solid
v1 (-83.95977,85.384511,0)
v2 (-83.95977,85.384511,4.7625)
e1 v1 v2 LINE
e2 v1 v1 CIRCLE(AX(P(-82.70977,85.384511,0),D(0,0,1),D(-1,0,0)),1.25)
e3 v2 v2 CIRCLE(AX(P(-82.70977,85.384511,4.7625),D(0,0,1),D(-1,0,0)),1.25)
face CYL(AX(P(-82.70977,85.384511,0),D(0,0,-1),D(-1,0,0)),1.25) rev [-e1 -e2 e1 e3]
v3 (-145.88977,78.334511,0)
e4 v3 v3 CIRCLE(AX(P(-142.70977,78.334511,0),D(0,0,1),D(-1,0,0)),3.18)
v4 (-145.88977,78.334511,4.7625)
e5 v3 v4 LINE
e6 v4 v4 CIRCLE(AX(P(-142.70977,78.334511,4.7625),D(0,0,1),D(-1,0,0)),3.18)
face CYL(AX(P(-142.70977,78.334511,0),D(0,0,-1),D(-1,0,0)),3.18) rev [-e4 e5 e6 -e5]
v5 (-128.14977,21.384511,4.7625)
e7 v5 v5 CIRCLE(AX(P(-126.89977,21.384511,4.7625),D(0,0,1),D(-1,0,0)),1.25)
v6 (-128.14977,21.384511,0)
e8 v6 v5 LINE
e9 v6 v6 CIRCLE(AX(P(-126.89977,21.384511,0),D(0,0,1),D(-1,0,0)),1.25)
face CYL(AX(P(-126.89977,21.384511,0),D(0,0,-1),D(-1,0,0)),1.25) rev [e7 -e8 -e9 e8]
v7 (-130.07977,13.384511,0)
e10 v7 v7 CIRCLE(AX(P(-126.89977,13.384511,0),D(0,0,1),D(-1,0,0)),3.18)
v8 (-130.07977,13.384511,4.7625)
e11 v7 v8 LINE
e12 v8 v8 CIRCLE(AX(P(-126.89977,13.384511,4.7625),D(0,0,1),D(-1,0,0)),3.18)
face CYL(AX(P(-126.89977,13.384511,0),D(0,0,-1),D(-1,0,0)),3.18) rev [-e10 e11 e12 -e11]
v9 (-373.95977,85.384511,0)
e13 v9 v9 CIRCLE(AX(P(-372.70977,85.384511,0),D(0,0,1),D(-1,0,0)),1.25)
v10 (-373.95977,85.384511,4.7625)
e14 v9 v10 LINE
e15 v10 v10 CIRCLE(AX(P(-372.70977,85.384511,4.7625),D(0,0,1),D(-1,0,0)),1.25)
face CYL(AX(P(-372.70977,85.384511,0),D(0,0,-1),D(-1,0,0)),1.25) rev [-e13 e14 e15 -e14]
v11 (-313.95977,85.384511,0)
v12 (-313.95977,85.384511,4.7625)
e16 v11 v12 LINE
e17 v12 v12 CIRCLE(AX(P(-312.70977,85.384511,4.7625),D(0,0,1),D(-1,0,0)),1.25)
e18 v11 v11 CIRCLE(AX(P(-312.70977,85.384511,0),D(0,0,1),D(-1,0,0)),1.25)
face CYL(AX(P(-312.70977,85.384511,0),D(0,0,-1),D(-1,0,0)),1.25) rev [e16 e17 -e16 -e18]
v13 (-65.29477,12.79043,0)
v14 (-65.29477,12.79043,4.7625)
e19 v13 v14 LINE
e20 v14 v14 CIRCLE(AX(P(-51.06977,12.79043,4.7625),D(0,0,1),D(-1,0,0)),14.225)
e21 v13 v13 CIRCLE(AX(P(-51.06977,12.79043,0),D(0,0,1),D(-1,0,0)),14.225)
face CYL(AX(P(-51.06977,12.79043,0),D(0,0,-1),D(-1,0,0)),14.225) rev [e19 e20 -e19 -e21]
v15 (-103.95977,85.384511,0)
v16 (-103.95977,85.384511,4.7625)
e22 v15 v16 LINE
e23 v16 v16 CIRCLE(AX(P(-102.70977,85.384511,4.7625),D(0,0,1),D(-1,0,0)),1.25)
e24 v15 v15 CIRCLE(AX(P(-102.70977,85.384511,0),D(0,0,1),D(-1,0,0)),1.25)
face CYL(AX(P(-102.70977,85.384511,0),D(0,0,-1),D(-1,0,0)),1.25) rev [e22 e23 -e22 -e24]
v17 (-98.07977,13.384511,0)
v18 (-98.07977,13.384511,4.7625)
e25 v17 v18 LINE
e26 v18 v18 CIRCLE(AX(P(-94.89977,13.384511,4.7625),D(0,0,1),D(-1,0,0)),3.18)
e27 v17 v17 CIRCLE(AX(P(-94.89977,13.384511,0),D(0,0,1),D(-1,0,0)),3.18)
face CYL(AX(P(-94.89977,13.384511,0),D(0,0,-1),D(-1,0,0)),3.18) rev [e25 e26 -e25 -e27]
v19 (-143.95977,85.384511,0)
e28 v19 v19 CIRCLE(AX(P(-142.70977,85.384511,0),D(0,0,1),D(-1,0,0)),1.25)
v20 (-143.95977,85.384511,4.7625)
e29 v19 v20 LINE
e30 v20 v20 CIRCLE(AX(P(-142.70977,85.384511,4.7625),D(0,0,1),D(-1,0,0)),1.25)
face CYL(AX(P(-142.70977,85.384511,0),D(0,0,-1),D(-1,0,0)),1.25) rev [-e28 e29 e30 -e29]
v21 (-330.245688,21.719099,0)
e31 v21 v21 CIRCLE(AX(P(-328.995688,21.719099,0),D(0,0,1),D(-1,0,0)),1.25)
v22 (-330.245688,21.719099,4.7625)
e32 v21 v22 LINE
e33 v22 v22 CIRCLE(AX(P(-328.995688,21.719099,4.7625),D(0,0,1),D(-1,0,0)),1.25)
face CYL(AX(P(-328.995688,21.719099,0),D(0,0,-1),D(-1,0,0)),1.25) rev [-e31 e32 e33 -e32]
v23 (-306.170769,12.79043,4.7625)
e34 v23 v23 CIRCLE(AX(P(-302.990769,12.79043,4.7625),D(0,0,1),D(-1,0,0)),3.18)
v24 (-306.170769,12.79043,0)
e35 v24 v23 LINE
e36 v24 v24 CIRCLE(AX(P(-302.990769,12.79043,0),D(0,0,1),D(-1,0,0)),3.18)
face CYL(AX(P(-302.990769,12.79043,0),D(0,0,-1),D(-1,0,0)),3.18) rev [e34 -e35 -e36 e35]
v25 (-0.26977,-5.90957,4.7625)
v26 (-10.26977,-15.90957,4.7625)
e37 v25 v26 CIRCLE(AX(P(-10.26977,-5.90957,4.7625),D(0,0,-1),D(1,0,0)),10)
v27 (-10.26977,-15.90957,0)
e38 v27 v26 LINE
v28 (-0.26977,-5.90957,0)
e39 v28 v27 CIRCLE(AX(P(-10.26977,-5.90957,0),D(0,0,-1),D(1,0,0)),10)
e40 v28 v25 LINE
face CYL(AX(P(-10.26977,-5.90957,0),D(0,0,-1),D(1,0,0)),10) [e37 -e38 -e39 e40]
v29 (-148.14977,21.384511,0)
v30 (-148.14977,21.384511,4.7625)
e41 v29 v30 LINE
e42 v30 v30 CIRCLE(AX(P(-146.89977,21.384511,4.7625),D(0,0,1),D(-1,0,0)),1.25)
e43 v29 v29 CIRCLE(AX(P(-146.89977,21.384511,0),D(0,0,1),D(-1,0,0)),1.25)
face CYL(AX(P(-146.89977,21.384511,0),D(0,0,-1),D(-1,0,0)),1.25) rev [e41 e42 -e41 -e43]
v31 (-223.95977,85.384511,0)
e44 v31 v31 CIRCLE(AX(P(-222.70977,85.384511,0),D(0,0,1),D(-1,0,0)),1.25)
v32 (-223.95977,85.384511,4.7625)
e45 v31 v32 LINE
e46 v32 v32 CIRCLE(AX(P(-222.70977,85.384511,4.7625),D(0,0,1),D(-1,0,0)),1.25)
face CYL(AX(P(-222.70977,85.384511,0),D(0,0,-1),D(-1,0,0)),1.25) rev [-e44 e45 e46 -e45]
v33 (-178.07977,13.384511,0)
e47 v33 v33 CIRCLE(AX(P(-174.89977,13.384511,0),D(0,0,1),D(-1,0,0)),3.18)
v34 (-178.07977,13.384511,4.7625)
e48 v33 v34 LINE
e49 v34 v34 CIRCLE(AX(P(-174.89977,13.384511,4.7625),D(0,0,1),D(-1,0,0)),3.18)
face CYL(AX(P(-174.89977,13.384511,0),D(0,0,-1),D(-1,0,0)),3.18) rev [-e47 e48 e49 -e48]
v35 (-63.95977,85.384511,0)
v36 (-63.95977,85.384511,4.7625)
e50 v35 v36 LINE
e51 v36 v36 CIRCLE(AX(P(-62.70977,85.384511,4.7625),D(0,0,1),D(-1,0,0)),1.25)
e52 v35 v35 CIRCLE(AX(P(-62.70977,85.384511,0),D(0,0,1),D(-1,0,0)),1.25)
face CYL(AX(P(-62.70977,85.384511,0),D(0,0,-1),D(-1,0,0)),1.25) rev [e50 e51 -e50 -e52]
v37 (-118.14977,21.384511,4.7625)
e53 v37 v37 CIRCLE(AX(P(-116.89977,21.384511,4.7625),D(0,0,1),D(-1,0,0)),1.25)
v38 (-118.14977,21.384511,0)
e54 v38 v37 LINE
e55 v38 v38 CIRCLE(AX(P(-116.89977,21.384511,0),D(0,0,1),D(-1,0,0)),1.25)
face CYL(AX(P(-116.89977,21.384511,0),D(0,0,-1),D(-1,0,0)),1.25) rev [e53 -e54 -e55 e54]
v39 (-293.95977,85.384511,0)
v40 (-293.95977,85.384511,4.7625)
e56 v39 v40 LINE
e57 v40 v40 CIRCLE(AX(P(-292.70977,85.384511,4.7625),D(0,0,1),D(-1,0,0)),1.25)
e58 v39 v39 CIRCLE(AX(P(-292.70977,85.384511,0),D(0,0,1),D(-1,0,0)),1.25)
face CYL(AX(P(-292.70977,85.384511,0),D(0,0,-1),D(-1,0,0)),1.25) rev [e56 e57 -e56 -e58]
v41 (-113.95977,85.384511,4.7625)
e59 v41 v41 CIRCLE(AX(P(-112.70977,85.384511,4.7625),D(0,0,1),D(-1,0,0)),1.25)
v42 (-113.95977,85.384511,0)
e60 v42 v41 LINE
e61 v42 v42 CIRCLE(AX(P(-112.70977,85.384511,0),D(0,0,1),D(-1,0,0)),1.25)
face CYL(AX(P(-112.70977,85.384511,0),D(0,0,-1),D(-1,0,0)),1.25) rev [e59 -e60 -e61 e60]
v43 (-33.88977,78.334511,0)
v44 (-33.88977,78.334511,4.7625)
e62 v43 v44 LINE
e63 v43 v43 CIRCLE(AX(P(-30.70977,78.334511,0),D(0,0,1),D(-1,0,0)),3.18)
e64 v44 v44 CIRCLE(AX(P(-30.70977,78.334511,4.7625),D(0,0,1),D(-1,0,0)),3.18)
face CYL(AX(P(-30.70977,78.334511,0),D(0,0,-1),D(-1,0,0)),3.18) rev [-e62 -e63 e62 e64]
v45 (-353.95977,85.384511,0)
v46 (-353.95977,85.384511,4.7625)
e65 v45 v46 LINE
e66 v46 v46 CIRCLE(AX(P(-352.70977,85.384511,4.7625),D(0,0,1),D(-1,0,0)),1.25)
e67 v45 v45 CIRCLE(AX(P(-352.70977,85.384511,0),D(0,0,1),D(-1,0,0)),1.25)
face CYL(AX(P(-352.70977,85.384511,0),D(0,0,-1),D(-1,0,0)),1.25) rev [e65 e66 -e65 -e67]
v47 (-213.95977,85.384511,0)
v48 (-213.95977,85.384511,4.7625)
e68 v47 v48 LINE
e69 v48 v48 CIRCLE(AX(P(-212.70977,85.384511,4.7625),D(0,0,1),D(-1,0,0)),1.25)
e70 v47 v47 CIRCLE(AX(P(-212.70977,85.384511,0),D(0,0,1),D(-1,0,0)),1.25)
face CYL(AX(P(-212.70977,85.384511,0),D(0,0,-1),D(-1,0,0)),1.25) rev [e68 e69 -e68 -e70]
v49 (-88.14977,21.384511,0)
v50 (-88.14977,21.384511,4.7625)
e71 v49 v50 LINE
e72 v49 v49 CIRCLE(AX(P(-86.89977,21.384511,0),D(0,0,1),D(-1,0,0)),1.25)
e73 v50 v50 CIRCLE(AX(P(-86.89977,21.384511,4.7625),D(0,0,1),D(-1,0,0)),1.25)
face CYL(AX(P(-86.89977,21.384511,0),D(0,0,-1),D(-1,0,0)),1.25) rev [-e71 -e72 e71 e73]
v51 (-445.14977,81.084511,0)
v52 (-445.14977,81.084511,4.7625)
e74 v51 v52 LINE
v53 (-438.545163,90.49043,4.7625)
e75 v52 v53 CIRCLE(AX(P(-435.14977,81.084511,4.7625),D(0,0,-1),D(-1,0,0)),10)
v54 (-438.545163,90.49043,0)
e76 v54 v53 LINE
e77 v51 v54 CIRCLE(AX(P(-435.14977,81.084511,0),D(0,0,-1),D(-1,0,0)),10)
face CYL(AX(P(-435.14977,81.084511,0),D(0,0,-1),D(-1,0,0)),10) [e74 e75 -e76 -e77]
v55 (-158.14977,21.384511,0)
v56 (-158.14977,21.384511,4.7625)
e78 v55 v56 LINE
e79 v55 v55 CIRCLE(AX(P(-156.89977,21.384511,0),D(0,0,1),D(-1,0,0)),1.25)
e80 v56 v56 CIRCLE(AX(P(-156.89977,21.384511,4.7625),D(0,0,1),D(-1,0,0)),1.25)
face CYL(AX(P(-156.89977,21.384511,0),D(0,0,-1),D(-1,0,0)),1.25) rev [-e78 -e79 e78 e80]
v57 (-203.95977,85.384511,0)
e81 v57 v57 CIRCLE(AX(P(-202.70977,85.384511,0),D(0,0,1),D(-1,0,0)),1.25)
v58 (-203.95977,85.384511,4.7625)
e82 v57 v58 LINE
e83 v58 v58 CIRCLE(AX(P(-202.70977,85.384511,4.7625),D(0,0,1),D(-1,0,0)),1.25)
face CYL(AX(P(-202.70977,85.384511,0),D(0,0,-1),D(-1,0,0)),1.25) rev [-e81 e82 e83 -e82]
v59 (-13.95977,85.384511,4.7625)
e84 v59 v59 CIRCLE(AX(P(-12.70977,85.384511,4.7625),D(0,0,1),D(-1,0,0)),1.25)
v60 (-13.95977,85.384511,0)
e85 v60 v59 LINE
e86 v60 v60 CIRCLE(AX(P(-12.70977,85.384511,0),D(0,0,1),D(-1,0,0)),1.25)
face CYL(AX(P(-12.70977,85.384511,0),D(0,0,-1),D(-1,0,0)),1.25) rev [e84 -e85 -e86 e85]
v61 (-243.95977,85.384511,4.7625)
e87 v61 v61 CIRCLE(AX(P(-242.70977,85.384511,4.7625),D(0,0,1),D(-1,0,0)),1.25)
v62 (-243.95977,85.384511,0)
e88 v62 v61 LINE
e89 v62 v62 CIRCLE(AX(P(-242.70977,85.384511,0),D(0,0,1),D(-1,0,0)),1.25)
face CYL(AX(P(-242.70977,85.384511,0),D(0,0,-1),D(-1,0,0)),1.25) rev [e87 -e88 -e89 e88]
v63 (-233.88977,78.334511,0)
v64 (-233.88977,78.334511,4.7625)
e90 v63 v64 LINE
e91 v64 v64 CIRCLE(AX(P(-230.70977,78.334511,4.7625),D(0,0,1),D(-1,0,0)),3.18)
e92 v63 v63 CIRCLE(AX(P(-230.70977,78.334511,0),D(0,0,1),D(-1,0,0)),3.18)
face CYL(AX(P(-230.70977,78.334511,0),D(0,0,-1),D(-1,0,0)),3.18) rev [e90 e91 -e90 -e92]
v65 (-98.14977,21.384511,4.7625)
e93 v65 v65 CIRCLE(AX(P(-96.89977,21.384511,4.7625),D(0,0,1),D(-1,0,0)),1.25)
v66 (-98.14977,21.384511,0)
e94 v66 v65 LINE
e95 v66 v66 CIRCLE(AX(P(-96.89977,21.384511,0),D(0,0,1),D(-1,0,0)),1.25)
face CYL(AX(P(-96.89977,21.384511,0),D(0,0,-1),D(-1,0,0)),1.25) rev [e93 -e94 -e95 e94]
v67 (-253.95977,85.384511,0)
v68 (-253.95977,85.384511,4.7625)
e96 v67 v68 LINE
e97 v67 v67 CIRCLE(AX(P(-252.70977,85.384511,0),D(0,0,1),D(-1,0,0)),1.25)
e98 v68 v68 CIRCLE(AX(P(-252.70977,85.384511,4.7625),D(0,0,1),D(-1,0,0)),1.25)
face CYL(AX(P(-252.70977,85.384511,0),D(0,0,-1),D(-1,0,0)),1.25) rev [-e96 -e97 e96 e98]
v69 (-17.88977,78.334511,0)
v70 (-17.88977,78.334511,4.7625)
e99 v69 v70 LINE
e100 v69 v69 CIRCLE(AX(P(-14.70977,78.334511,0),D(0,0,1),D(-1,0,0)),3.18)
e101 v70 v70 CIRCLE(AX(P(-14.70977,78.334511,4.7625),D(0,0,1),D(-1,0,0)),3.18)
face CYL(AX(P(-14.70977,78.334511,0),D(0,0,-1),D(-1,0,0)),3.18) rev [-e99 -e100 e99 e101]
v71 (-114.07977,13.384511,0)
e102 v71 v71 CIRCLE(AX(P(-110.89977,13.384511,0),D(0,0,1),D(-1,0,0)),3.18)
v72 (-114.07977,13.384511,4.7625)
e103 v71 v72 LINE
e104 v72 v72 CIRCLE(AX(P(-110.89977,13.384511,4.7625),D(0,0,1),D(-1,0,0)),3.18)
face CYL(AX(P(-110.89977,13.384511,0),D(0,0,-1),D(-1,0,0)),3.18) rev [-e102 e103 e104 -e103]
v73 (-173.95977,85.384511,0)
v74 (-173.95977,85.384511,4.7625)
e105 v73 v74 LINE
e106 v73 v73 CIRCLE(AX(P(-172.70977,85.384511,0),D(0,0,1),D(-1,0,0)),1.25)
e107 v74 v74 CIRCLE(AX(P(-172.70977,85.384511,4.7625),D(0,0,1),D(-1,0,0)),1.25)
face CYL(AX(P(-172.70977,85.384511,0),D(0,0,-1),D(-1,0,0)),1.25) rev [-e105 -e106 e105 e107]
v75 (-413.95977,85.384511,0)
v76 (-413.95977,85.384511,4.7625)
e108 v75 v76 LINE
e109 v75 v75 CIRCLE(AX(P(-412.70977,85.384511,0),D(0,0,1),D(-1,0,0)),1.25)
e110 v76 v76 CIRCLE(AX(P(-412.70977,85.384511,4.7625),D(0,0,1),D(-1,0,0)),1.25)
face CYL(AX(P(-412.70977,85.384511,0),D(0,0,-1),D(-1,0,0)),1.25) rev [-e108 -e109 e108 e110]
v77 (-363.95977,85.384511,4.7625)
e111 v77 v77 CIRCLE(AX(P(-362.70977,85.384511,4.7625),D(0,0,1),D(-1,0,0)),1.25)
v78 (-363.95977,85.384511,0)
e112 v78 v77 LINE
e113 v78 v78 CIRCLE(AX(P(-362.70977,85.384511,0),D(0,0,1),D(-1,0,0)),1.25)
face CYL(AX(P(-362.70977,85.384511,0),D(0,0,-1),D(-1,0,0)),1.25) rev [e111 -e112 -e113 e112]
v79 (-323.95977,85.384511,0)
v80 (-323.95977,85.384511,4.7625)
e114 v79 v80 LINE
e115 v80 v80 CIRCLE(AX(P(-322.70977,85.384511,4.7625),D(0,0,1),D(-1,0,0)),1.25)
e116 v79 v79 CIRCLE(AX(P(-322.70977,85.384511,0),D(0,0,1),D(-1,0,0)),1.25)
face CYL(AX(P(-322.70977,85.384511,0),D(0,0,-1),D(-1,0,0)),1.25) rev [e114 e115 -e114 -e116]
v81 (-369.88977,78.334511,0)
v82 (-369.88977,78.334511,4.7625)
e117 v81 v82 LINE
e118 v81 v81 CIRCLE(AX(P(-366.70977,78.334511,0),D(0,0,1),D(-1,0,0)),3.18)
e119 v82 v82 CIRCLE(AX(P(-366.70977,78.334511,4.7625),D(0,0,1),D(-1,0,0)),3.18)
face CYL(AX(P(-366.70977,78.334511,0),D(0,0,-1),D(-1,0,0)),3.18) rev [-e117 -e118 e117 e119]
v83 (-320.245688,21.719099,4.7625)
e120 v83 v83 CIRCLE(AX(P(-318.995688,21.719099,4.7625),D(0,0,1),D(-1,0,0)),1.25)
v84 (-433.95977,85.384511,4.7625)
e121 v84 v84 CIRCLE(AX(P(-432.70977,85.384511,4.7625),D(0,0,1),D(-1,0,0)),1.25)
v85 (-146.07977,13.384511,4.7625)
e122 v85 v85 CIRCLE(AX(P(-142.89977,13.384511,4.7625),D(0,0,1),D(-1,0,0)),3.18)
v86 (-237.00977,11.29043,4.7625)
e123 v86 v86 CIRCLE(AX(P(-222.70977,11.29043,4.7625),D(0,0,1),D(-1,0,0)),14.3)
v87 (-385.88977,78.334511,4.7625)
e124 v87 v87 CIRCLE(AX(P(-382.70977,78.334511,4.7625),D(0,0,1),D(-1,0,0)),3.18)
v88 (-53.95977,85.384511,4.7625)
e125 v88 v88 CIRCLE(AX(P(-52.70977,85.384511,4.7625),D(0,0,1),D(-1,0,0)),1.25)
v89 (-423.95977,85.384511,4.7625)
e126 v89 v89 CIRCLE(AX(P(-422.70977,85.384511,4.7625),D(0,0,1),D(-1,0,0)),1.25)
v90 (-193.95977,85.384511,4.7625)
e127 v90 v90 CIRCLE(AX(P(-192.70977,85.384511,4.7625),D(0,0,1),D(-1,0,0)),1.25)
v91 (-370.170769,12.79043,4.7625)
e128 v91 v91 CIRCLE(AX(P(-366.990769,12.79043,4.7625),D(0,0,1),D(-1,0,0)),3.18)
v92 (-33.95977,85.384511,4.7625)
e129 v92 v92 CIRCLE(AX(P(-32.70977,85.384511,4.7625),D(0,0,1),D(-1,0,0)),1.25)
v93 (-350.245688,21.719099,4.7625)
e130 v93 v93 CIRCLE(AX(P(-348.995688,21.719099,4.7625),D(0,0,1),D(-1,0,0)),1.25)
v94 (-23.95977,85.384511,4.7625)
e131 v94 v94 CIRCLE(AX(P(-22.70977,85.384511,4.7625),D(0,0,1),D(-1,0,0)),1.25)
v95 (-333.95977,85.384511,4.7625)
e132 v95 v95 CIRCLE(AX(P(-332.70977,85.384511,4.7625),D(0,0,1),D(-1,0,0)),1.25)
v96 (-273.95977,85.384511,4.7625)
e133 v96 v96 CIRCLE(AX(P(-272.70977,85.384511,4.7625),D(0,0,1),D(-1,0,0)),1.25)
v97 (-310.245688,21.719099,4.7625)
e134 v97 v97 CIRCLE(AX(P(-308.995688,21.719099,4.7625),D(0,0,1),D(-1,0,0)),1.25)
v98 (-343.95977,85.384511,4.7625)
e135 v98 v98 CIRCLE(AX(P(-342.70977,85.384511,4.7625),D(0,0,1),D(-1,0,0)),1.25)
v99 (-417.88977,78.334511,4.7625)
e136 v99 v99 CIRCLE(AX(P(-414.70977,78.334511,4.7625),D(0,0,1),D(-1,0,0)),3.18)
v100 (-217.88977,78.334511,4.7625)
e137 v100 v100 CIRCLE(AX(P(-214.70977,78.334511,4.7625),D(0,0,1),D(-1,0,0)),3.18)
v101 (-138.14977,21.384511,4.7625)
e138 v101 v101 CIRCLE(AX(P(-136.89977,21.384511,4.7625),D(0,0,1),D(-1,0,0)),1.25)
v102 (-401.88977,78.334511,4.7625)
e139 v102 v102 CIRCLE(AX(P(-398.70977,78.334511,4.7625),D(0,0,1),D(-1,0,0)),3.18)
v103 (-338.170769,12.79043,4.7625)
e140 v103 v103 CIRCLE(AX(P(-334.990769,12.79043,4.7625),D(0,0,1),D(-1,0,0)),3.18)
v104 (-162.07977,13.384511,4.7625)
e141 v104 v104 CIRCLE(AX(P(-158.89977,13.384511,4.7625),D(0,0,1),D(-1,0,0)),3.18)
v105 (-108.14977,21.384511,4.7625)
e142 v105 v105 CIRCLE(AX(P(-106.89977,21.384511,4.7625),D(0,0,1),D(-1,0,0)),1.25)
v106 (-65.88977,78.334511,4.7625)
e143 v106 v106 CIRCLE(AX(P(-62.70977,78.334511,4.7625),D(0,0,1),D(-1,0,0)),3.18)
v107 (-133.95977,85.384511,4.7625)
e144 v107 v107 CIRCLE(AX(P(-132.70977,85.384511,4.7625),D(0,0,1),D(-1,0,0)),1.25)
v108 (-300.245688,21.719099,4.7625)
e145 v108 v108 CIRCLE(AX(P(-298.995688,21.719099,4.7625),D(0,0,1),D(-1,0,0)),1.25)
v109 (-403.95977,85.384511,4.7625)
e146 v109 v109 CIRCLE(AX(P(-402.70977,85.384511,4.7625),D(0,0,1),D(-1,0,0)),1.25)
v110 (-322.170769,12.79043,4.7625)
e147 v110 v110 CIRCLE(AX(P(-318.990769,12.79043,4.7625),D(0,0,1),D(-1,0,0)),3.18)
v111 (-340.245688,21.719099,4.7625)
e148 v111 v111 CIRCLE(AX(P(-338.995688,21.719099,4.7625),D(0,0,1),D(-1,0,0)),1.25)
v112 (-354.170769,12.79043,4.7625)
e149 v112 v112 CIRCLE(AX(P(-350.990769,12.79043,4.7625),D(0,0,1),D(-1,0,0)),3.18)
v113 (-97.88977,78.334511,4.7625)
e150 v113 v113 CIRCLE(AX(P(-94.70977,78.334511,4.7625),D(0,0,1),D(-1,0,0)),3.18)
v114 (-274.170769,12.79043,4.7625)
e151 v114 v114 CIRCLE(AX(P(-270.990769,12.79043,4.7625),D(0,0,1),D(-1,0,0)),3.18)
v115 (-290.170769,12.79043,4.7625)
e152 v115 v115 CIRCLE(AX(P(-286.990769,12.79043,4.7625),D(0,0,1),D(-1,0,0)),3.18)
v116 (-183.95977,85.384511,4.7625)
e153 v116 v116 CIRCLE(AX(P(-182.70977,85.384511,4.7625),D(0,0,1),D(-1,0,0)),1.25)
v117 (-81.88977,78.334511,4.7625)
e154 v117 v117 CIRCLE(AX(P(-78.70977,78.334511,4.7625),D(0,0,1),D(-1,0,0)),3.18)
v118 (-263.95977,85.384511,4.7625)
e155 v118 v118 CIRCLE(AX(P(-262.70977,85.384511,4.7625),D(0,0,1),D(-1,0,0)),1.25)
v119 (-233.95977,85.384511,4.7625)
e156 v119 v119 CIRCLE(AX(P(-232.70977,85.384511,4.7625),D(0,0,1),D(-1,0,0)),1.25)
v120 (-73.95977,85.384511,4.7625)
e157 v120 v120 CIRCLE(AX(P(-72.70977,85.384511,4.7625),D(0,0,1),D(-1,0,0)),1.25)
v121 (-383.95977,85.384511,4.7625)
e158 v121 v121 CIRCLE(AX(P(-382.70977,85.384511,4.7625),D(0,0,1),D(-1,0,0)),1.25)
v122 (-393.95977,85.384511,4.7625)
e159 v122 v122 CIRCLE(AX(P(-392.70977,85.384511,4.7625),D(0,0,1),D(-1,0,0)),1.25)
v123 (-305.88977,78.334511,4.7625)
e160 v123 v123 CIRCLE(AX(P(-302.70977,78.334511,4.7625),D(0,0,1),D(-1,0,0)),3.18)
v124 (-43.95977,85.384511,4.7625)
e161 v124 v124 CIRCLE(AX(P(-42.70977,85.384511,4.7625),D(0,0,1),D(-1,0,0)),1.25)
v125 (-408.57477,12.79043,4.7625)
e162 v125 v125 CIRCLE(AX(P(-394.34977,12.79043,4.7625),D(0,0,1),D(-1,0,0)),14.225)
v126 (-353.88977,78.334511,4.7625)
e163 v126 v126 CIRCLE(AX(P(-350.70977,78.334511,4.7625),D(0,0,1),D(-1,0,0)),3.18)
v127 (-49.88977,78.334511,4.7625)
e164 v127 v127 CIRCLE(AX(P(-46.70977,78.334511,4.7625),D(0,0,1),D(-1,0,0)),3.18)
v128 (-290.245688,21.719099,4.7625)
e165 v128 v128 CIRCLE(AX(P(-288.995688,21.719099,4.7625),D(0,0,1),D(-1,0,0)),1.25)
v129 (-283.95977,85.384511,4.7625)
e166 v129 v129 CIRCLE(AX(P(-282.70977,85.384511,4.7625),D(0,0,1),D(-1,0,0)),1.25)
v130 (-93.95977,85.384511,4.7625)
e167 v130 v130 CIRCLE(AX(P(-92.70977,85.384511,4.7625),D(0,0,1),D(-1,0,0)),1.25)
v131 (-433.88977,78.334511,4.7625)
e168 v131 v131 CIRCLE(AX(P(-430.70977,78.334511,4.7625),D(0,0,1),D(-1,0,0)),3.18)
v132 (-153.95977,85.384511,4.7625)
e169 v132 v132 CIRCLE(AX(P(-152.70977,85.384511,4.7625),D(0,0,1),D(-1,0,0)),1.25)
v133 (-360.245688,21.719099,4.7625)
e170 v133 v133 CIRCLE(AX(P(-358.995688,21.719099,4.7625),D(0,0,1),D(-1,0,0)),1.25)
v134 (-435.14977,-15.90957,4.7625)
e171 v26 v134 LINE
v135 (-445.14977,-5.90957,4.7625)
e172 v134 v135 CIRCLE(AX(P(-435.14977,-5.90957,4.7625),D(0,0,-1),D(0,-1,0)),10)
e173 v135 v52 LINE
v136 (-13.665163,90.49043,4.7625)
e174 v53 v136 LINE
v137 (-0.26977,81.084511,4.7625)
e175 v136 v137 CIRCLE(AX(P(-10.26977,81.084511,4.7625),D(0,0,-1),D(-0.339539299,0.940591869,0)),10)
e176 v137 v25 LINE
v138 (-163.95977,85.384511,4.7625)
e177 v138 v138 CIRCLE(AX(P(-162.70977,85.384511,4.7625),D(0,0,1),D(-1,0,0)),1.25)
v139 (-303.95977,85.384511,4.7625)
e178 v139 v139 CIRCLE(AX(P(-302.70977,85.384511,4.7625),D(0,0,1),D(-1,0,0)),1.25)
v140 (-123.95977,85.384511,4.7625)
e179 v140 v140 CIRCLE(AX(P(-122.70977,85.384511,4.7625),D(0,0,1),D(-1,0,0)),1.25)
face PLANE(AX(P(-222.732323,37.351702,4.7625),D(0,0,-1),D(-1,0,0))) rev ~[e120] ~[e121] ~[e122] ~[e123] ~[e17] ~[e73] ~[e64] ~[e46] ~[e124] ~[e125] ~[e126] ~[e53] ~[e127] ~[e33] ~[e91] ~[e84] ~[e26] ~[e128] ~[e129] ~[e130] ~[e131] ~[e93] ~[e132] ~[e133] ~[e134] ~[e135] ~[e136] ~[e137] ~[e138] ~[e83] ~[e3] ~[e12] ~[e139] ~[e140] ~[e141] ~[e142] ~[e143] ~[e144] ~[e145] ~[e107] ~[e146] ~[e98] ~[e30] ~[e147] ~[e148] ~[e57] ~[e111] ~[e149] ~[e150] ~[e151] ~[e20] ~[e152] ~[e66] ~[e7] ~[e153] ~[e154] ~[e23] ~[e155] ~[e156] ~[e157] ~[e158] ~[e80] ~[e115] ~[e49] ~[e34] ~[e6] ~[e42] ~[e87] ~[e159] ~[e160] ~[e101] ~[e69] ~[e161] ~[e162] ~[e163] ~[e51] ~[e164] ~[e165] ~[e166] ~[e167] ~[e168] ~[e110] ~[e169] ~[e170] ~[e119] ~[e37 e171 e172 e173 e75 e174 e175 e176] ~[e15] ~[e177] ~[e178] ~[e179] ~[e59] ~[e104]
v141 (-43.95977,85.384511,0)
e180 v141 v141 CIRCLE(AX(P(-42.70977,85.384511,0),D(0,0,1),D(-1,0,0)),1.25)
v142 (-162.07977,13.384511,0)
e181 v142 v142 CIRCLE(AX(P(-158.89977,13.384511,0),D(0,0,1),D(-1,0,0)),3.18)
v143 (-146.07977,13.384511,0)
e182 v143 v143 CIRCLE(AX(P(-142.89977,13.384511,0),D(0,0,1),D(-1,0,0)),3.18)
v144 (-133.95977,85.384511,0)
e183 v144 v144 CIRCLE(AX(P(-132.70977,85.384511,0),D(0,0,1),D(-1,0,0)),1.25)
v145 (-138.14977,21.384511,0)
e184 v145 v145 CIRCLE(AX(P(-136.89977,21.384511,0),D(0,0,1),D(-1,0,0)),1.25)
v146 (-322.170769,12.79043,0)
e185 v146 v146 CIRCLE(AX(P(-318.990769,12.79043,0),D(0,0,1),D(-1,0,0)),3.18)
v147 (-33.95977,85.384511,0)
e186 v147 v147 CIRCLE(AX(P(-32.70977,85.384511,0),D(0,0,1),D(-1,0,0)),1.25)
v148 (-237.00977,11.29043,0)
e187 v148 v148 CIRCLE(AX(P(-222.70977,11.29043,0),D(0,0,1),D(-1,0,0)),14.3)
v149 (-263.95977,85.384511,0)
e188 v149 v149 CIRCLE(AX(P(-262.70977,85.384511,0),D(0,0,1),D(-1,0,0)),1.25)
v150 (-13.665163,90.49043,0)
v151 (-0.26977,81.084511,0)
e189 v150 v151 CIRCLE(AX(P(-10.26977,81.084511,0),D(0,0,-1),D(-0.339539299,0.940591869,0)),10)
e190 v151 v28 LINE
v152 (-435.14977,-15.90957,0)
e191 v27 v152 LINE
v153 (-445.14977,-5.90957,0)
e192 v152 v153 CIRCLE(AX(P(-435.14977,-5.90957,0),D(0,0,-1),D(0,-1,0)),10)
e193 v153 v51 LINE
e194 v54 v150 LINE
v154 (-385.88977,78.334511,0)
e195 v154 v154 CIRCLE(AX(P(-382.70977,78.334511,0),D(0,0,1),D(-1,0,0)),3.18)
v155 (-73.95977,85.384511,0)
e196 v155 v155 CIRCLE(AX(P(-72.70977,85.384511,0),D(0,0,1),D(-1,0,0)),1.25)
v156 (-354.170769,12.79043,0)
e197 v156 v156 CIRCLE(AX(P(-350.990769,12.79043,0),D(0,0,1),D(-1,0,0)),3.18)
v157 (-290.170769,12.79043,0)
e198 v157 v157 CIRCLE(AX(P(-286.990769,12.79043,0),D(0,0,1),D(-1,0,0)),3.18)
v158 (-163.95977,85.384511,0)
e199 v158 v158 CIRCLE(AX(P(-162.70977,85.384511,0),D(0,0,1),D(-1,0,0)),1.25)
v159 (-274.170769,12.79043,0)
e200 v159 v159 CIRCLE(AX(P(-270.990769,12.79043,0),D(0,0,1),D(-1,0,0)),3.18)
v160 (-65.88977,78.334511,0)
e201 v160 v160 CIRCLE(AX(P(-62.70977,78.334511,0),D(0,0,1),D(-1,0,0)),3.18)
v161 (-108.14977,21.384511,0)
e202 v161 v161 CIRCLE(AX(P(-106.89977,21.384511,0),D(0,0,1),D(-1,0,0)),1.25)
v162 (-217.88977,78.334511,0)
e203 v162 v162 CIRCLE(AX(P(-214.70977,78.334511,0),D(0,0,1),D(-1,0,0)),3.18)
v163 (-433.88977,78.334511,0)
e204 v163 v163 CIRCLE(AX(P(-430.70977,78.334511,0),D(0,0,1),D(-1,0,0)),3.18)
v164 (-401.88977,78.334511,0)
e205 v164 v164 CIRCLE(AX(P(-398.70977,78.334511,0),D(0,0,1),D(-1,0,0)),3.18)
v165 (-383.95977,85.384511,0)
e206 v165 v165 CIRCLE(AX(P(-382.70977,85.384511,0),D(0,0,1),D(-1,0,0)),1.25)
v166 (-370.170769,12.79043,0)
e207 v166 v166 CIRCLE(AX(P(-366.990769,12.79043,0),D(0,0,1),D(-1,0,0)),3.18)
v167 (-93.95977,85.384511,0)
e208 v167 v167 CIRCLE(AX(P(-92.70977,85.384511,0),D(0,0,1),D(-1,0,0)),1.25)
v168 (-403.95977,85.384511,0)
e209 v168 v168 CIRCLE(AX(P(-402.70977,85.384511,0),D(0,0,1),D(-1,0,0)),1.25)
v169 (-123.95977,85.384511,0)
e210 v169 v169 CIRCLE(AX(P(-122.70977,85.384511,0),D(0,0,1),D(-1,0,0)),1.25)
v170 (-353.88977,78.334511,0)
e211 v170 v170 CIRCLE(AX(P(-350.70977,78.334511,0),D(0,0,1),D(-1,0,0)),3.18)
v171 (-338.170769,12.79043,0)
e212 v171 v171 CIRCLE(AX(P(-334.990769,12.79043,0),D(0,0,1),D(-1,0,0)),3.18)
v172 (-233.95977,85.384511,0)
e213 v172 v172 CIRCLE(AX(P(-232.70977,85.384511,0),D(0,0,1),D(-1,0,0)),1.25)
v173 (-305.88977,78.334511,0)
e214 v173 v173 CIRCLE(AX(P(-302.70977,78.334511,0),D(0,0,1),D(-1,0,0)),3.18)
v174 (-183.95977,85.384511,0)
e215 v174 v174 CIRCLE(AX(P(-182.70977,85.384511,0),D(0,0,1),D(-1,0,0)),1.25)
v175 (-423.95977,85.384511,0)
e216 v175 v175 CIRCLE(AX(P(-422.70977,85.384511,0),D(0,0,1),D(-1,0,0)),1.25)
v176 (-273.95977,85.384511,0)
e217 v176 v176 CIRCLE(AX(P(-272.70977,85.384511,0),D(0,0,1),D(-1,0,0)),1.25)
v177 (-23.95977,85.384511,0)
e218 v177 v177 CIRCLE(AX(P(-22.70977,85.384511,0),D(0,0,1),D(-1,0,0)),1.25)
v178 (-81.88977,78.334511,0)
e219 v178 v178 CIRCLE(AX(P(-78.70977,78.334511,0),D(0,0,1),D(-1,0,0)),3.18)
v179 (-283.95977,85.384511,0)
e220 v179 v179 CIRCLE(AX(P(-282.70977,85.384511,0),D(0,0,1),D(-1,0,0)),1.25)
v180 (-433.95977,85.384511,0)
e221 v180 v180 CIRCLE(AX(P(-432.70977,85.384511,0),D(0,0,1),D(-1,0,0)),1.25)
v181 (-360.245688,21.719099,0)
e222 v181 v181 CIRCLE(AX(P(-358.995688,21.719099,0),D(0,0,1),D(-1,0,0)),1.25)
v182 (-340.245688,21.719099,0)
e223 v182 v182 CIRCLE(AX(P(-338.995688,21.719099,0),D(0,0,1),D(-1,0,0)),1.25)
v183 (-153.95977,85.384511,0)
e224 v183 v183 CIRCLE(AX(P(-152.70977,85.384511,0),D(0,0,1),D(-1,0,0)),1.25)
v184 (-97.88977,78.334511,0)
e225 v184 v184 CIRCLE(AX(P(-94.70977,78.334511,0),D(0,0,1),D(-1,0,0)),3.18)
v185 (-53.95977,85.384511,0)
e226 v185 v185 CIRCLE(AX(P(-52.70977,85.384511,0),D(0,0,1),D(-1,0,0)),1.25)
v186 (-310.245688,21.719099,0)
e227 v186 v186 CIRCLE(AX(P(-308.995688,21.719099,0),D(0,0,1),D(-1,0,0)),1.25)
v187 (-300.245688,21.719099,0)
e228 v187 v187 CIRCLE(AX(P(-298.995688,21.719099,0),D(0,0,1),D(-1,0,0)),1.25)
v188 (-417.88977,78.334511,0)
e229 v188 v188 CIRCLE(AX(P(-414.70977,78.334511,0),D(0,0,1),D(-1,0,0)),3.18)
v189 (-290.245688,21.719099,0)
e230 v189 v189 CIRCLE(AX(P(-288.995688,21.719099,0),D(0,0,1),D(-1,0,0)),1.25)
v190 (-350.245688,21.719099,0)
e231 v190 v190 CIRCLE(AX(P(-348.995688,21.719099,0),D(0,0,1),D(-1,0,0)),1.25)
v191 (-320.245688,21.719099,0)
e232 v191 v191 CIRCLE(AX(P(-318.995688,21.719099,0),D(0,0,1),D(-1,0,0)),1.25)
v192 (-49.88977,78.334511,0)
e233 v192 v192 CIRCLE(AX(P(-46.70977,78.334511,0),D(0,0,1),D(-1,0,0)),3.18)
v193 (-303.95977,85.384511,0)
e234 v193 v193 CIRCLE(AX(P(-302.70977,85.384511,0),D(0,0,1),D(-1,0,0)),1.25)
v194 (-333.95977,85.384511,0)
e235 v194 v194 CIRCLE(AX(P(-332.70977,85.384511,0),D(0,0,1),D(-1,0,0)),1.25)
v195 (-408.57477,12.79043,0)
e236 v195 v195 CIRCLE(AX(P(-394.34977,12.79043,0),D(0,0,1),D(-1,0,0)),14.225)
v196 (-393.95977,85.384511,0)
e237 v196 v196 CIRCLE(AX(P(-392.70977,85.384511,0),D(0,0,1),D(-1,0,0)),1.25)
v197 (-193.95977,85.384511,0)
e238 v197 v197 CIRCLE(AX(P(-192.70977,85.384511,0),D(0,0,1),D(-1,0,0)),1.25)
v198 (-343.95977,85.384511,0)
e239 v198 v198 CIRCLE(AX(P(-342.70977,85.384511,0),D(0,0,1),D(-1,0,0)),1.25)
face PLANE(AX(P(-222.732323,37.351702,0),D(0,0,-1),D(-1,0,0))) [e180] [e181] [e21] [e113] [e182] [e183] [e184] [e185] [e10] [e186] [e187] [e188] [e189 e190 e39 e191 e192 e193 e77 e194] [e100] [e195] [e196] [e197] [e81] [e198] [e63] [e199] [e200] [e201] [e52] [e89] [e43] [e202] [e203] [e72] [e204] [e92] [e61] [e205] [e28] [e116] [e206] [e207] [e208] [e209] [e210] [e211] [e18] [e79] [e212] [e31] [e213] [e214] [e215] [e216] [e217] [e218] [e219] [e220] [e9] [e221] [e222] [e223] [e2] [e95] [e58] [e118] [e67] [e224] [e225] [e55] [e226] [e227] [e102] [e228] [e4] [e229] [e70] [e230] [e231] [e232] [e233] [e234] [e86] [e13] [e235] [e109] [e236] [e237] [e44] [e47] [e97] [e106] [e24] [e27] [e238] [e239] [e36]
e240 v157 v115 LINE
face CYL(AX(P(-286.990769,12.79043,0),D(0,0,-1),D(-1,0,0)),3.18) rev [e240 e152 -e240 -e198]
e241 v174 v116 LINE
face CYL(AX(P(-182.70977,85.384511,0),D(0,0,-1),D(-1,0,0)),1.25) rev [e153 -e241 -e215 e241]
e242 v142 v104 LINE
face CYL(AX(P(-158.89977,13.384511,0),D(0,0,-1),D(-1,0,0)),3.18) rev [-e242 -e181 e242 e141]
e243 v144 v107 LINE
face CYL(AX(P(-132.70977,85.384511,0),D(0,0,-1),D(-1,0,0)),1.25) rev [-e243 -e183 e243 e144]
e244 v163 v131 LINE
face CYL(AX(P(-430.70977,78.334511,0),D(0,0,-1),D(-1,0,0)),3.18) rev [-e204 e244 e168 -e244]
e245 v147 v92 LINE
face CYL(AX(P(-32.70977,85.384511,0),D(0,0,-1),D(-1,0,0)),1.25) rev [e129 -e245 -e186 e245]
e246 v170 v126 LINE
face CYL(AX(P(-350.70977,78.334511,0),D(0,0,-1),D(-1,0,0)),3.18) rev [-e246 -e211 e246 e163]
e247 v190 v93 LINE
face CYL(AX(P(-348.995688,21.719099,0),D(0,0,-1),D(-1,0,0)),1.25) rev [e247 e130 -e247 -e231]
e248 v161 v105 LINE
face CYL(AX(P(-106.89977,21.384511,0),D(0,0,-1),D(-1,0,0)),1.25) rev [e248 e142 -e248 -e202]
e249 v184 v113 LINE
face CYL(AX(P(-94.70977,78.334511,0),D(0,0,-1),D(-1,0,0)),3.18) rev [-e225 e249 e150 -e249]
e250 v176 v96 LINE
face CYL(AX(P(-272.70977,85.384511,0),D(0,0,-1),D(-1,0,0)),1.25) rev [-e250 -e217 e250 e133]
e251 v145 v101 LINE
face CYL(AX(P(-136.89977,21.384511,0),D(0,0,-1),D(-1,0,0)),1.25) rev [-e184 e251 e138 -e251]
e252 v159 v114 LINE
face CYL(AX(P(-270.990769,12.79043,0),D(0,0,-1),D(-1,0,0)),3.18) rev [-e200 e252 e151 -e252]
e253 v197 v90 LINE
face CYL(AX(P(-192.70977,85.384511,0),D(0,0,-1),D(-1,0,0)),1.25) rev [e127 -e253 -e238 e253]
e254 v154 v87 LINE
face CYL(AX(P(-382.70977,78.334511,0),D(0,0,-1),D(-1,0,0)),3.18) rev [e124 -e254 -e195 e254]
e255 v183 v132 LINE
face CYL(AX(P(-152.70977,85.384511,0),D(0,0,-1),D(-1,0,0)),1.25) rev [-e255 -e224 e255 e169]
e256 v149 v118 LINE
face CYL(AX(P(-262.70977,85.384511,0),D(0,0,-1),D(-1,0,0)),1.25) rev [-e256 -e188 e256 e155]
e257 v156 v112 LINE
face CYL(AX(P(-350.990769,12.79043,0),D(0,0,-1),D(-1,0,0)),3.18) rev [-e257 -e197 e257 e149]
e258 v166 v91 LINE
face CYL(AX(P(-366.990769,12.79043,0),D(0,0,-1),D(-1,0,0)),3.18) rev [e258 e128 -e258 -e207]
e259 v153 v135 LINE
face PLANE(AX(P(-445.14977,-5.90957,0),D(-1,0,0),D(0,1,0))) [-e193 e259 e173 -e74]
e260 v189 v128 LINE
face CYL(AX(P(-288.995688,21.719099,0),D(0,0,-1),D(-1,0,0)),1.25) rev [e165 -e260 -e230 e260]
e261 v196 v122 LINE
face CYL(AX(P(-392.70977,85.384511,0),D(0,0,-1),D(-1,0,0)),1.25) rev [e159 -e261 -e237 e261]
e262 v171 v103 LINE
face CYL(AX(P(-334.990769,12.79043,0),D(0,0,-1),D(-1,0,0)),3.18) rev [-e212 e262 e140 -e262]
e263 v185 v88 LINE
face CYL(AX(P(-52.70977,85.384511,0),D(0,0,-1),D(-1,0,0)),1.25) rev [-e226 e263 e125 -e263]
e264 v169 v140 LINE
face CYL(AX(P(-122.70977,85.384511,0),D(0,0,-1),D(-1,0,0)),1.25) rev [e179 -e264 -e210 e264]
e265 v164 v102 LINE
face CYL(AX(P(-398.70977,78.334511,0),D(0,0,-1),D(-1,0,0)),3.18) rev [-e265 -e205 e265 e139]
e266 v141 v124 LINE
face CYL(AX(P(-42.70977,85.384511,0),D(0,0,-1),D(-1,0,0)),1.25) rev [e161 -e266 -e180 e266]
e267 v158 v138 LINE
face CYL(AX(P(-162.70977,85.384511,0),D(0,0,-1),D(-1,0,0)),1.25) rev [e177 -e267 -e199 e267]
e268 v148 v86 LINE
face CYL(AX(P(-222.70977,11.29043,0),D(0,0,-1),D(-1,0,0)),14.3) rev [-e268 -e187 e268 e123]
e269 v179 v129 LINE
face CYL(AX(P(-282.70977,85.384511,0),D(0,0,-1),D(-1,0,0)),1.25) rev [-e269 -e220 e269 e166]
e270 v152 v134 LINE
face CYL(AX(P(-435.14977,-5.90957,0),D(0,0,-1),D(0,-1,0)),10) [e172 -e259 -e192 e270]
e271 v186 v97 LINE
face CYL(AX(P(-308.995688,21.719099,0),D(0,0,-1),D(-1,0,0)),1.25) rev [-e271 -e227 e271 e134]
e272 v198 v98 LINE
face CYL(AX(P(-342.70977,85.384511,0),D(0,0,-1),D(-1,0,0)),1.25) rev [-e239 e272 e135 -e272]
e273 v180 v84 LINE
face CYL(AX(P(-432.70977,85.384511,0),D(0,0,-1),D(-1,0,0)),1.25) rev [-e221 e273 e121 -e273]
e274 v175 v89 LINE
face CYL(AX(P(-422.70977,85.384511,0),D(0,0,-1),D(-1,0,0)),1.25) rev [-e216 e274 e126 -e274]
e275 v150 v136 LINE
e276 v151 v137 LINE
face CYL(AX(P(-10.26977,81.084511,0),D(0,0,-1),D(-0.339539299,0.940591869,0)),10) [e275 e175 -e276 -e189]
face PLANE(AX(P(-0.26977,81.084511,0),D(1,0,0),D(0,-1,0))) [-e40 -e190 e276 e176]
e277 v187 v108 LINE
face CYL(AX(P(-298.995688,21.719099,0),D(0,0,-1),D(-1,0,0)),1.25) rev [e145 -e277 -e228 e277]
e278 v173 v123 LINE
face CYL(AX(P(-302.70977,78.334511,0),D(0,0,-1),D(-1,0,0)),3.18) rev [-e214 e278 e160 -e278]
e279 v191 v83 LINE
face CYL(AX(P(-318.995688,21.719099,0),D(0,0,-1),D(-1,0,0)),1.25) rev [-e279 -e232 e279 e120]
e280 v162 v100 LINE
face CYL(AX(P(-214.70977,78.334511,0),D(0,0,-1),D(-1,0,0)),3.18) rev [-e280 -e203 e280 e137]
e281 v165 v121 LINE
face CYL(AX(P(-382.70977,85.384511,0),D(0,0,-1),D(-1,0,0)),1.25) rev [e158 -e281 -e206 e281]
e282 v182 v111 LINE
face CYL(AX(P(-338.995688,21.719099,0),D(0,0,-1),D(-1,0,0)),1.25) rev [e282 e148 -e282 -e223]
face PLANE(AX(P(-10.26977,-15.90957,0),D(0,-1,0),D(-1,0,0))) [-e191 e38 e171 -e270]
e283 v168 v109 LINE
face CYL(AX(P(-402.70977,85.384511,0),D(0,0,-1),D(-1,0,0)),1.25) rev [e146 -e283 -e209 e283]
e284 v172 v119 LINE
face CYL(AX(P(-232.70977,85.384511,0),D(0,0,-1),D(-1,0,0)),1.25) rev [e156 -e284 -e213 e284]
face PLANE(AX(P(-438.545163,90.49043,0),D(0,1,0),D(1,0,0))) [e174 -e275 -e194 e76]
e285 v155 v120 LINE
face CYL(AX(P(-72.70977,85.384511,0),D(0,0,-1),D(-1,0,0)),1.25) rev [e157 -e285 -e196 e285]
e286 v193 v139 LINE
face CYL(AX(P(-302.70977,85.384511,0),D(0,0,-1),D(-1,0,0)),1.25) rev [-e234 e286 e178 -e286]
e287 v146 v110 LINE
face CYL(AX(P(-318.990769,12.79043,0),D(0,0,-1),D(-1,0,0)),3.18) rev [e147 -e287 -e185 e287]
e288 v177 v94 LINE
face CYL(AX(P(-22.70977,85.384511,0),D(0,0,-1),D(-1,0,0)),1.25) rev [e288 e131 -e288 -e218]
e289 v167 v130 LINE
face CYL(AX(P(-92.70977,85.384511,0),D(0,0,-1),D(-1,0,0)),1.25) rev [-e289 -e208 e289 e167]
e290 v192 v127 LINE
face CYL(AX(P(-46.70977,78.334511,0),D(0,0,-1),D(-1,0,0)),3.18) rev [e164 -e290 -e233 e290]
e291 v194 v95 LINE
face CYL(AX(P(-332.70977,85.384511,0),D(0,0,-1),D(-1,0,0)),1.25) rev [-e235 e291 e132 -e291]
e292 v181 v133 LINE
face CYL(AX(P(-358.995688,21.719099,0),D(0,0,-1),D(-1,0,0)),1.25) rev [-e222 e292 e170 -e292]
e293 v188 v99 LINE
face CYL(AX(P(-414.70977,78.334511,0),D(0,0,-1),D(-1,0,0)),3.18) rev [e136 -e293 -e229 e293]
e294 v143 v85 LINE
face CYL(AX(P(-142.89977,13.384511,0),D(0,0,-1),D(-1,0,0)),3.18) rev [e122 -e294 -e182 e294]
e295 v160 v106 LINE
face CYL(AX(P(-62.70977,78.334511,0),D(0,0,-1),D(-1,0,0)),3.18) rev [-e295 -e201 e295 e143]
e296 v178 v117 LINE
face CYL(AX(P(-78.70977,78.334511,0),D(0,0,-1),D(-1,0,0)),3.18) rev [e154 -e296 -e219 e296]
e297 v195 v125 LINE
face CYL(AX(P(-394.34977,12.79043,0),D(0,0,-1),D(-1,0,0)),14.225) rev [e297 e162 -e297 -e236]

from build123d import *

# Parameters (mm, degrees)
SKETCH1_R           = 14.225
SKETCH1_R_2         = 14.3
SKETCH1_R_3         = 3.18
SKETCH1_R_4         = 1.25
BOSS_EXTRUDE5_DEPTH = 4.7625


with BuildPart() as part:
    # Sketch1 → Boss-Extrude5 (new body)
    with BuildSketch(Plane.XY):
        with BuildLine():
            Line((-438.54516333, 90.490429708), (-13.66516333, 90.490429708))
            ThreePointArc((-13.66516333, 90.490429708), (-4.523203097, 89.26845658), (-0.269770336, 81.084511017))
            Line((-0.269770336, 81.084511017), (-0.269770336, -5.909570292))
            ThreePointArc((-0.269770336, -5.909570292), (-3.198702525, -12.980638104), (-10.269770336, -15.909570292))
            Line((-10.269770336, -15.909570292), (-435.149770336, -15.909570292))
            ThreePointArc((-435.149770336, -15.909570292), (-442.220838148, -12.980638104), (-445.149770336, -5.909570292))
            Line((-445.149770336, -5.909570292), (-445.149770336, 81.084511017))
            ThreePointArc((-445.149770336, 81.084511017), (-443.333715899, 86.831078256), (-438.54516333, 90.490429708))
        make_face()
        with Locations(Location((-394.349770336, 12.790429708, 0), (0, 0, 180))):
            Circle(SKETCH1_R, mode=Mode.SUBTRACT)
        with Locations(Location((-51.069770336, 12.790429708, 0), (0, 0, 180))):
            Circle(SKETCH1_R, mode=Mode.SUBTRACT)
        with Locations(Location((-222.709770336, 11.290429708, 0), (0, 0, 180))):
            Circle(SKETCH1_R_2, mode=Mode.SUBTRACT)
        with Locations(Location((-174.899770336, 13.384511017, 0), (0, 0, 180))):
            Circle(SKETCH1_R_3, mode=Mode.SUBTRACT)
        with Locations(Location((-366.990768764, 12.790429708, 0), (0, 0, 180))):
            Circle(SKETCH1_R_3, mode=Mode.SUBTRACT)
        with Locations(Location((-358.995687615, 21.719099167, 0), (0, 0, 180))):
            Circle(SKETCH1_R_4, mode=Mode.SUBTRACT)
        with Locations(Location((-94.899770336, 13.384511017, 0), (0, 0, 180))):
            Circle(SKETCH1_R_3, mode=Mode.SUBTRACT)
        with Locations(Location((-96.899770336, 21.384511017, 0), (0, 0, 180))):
            Circle(SKETCH1_R_4, mode=Mode.SUBTRACT)
        with Locations(Location((-106.899770336, 21.384511017, 0), (0, 0, 180))):
            Circle(SKETCH1_R_4, mode=Mode.SUBTRACT)
        with Locations(Location((-350.990768764, 12.790429708, 0), (0, 0, 180))):
            Circle(SKETCH1_R_3, mode=Mode.SUBTRACT)
        with Locations(Location((-334.990768764, 12.790429708, 0), (0, 0, 180))):
            Circle(SKETCH1_R_3, mode=Mode.SUBTRACT)
        with Locations(Location((-318.990768764, 12.790429708, 0), (0, 0, 180))):
            Circle(SKETCH1_R_3, mode=Mode.SUBTRACT)
        with Locations(Location((-302.990768764, 12.790429708, 0), (0, 0, 180))):
            Circle(SKETCH1_R_3, mode=Mode.SUBTRACT)
        with Locations(Location((-286.990768764, 12.790429708, 0), (0, 0, 180))):
            Circle(SKETCH1_R_3, mode=Mode.SUBTRACT)
        with Locations(Location((-158.899770336, 13.384511017, 0), (0, 0, 180))):
            Circle(SKETCH1_R_3, mode=Mode.SUBTRACT)
        with Locations(Location((-142.899770336, 13.384511017, 0), (0, 0, 180))):
            Circle(SKETCH1_R_3, mode=Mode.SUBTRACT)
        with Locations(Location((-126.899770336, 13.384511017, 0), (0, 0, 180))):
            Circle(SKETCH1_R_3, mode=Mode.SUBTRACT)
        with Locations(Location((-110.899770336, 13.384511017, 0), (0, 0, 180))):
            Circle(SKETCH1_R_3, mode=Mode.SUBTRACT)
        with Locations(Location((-86.899770336, 21.384511017, 0), (0, 0, 180))):
            Circle(SKETCH1_R_4, mode=Mode.SUBTRACT)
        with Locations(Location((-270.990768764, 12.790429708, 0), (0, 0, 180))):
            Circle(SKETCH1_R_3, mode=Mode.SUBTRACT)
        with Locations(Location((-348.995687615, 21.719099167, 0), (0, 0, 180))):
            Circle(SKETCH1_R_4, mode=Mode.SUBTRACT)
        with Locations(Location((-116.899770336, 21.384511017, 0), (0, 0, 180))):
            Circle(SKETCH1_R_4, mode=Mode.SUBTRACT)
        with Locations(Location((-338.995687615, 21.719099167, 0), (0, 0, 180))):
            Circle(SKETCH1_R_4, mode=Mode.SUBTRACT)
        with Locations(Location((-328.995687615, 21.719099167, 0), (0, 0, 180))):
            Circle(SKETCH1_R_4, mode=Mode.SUBTRACT)
        with Locations(Location((-318.995687615, 21.719099167, 0), (0, 0, 180))):
            Circle(SKETCH1_R_4, mode=Mode.SUBTRACT)
        with Locations(Location((-308.995687615, 21.719099167, 0), (0, 0, 180))):
            Circle(SKETCH1_R_4, mode=Mode.SUBTRACT)
        with Locations(Location((-298.995687615, 21.719099167, 0), (0, 0, 180))):
            Circle(SKETCH1_R_4, mode=Mode.SUBTRACT)
        with Locations(Location((-288.995687615, 21.719099167, 0), (0, 0, 180))):
            Circle(SKETCH1_R_4, mode=Mode.SUBTRACT)
        with Locations(Location((-126.899770336, 21.384511017, 0), (0, 0, 180))):
            Circle(SKETCH1_R_4, mode=Mode.SUBTRACT)
        with Locations(Location((-136.899770336, 21.384511017, 0), (0, 0, 180))):
            Circle(SKETCH1_R_4, mode=Mode.SUBTRACT)
        with Locations(Location((-146.899770336, 21.384511017, 0), (0, 0, 180))):
            Circle(SKETCH1_R_4, mode=Mode.SUBTRACT)
        with Locations(Location((-156.899770336, 21.384511017, 0), (0, 0, 180))):
            Circle(SKETCH1_R_4, mode=Mode.SUBTRACT)
        with Locations(Location((-222.709770336, 85.384511017, 0), (0, 0, 180))):
            Circle(SKETCH1_R_4, mode=Mode.SUBTRACT)
        with Locations(Location((-142.709770336, 78.334511017, 0), (0, 0, 180))):
            Circle(SKETCH1_R_3, mode=Mode.SUBTRACT)
        with Locations(Location((-94.709770336, 78.334511017, 0), (0, 0, 180))):
            Circle(SKETCH1_R_3, mode=Mode.SUBTRACT)
        with Locations(Location((-78.709770336, 78.334511017, 0), (0, 0, 180))):
            Circle(SKETCH1_R_3, mode=Mode.SUBTRACT)
        with Locations(Location((-30.709770336, 78.334511017, 0), (0, 0, 180))):
            Circle(SKETCH1_R_3, mode=Mode.SUBTRACT)
        with Locations(Location((-14.709770336, 78.334511017, 0), (0, 0, 180))):
            Circle(SKETCH1_R_3, mode=Mode.SUBTRACT)
        with Locations(Location((-302.709770336, 78.334511017, 0), (0, 0, 180))):
            Circle(SKETCH1_R_3, mode=Mode.SUBTRACT)
        with Locations(Location((-350.709770336, 78.334511017, 0), (0, 0, 180))):
            Circle(SKETCH1_R_3, mode=Mode.SUBTRACT)
        with Locations(Location((-366.709770336, 78.334511017, 0), (0, 0, 180))):
            Circle(SKETCH1_R_3, mode=Mode.SUBTRACT)
        with Locations(Location((-414.709770336, 78.334511017, 0), (0, 0, 180))):
            Circle(SKETCH1_R_3, mode=Mode.SUBTRACT)
        with Locations(Location((-212.709770336, 85.384511017, 0), (0, 0, 180))):
            Circle(SKETCH1_R_4, mode=Mode.SUBTRACT)
        with Locations(Location((-202.709770336, 85.384511017, 0), (0, 0, 180))):
            Circle(SKETCH1_R_4, mode=Mode.SUBTRACT)
        with Locations(Location((-192.709770336, 85.384511017, 0), (0, 0, 180))):
            Circle(SKETCH1_R_4, mode=Mode.SUBTRACT)
        with Locations(Location((-182.709770336, 85.384511017, 0), (0, 0, 180))):
            Circle(SKETCH1_R_4, mode=Mode.SUBTRACT)
        with Locations(Location((-172.709770336, 85.384511017, 0), (0, 0, 180))):
            Circle(SKETCH1_R_4, mode=Mode.SUBTRACT)
        with Locations(Location((-162.709770336, 85.384511017, 0), (0, 0, 180))):
            Circle(SKETCH1_R_4, mode=Mode.SUBTRACT)
        with Locations(Location((-152.709770336, 85.384511017, 0), (0, 0, 180))):
            Circle(SKETCH1_R_4, mode=Mode.SUBTRACT)
        with Locations(Location((-142.709770336, 85.384511017, 0), (0, 0, 180))):
            Circle(SKETCH1_R_4, mode=Mode.SUBTRACT)
        with Locations(Location((-132.709770336, 85.384511017, 0), (0, 0, 180))):
            Circle(SKETCH1_R_4, mode=Mode.SUBTRACT)
        with Locations(Location((-122.709770336, 85.384511017, 0), (0, 0, 180))):
            Circle(SKETCH1_R_4, mode=Mode.SUBTRACT)
        with Locations(Location((-112.709770336, 85.384511017, 0), (0, 0, 180))):
            Circle(SKETCH1_R_4, mode=Mode.SUBTRACT)
        with Locations(Location((-102.709770336, 85.384511017, 0), (0, 0, 180))):
            Circle(SKETCH1_R_4, mode=Mode.SUBTRACT)
        with Locations(Location((-92.709770336, 85.384511017, 0), (0, 0, 180))):
            Circle(SKETCH1_R_4, mode=Mode.SUBTRACT)
        with Locations(Location((-82.709770336, 85.384511017, 0), (0, 0, 180))):
            Circle(SKETCH1_R_4, mode=Mode.SUBTRACT)
        with Locations(Location((-72.709770336, 85.384511017, 0), (0, 0, 180))):
            Circle(SKETCH1_R_4, mode=Mode.SUBTRACT)
        with Locations(Location((-62.709770336, 85.384511017, 0), (0, 0, 180))):
            Circle(SKETCH1_R_4, mode=Mode.SUBTRACT)
        with Locations(Location((-52.709770336, 85.384511017, 0), (0, 0, 180))):
            Circle(SKETCH1_R_4, mode=Mode.SUBTRACT)
        with Locations(Location((-42.709770336, 85.384511017, 0), (0, 0, 180))):
            Circle(SKETCH1_R_4, mode=Mode.SUBTRACT)
        with Locations(Location((-32.709770336, 85.384511017, 0), (0, 0, 180))):
            Circle(SKETCH1_R_4, mode=Mode.SUBTRACT)
        with Locations(Location((-22.709770336, 85.384511017, 0), (0, 0, 180))):
            Circle(SKETCH1_R_4, mode=Mode.SUBTRACT)
        with Locations(Location((-12.709770336, 85.384511017, 0), (0, 0, 180))):
            Circle(SKETCH1_R_4, mode=Mode.SUBTRACT)
        with Locations(Location((-232.709770336, 85.384511017, 0), (0, 0, 180))):
            Circle(SKETCH1_R_4, mode=Mode.SUBTRACT)
        with Locations(Location((-242.709770336, 85.384511017, 0), (0, 0, 180))):
            Circle(SKETCH1_R_4, mode=Mode.SUBTRACT)
        with Locations(Location((-252.709770336, 85.384511017, 0), (0, 0, 180))):
            Circle(SKETCH1_R_4, mode=Mode.SUBTRACT)
        with Locations(Location((-262.709770336, 85.384511017, 0), (0, 0, 180))):
            Circle(SKETCH1_R_4, mode=Mode.SUBTRACT)
        with Locations(Location((-272.709770336, 85.384511017, 0), (0, 0, 180))):
            Circle(SKETCH1_R_4, mode=Mode.SUBTRACT)
        with Locations(Location((-282.709770336, 85.384511017, 0), (0, 0, 180))):
            Circle(SKETCH1_R_4, mode=Mode.SUBTRACT)
        with Locations(Location((-292.709770336, 85.384511017, 0), (0, 0, 180))):
            Circle(SKETCH1_R_4, mode=Mode.SUBTRACT)
        with Locations(Location((-302.709770336, 85.384511017, 0), (0, 0, 180))):
            Circle(SKETCH1_R_4, mode=Mode.SUBTRACT)
        with Locations(Location((-312.709770336, 85.384511017, 0), (0, 0, 180))):
            Circle(SKETCH1_R_4, mode=Mode.SUBTRACT)
        with Locations(Location((-322.709770336, 85.384511017, 0), (0, 0, 180))):
            Circle(SKETCH1_R_4, mode=Mode.SUBTRACT)
        with Locations(Location((-332.709770336, 85.384511017, 0), (0, 0, 180))):
            Circle(SKETCH1_R_4, mode=Mode.SUBTRACT)
        with Locations(Location((-342.709770336, 85.384511017, 0), (0, 0, 180))):
            Circle(SKETCH1_R_4, mode=Mode.SUBTRACT)
        with Locations(Location((-352.709770336, 85.384511017, 0), (0, 0, 180))):
            Circle(SKETCH1_R_4, mode=Mode.SUBTRACT)
        with Locations(Location((-362.709770336, 85.384511017, 0), (0, 0, 180))):
            Circle(SKETCH1_R_4, mode=Mode.SUBTRACT)
        with Locations(Location((-372.709770336, 85.384511017, 0), (0, 0, 180))):
            Circle(SKETCH1_R_4, mode=Mode.SUBTRACT)
        with Locations(Location((-382.709770336, 85.384511017, 0), (0, 0, 180))):
            Circle(SKETCH1_R_4, mode=Mode.SUBTRACT)
        with Locations(Location((-392.709770336, 85.384511017, 0), (0, 0, 180))):
            Circle(SKETCH1_R_4, mode=Mode.SUBTRACT)
        with Locations(Location((-402.709770336, 85.384511017, 0), (0, 0, 180))):
            Circle(SKETCH1_R_4, mode=Mode.SUBTRACT)
        with Locations(Location((-412.709770336, 85.384511017, 0), (0, 0, 180))):
            Circle(SKETCH1_R_4, mode=Mode.SUBTRACT)
        with Locations(Location((-422.709770336, 85.384511017, 0), (0, 0, 180))):
            Circle(SKETCH1_R_4, mode=Mode.SUBTRACT)
        with Locations(Location((-432.709770336, 85.384511017, 0), (0, 0, 180))):
            Circle(SKETCH1_R_4, mode=Mode.SUBTRACT)
        with Locations(Location((-430.709770336, 78.334511017, 0), (0, 0, 180))):
            Circle(SKETCH1_R_3, mode=Mode.SUBTRACT)
        with Locations(Location((-230.709770336, 78.334511017, 0), (0, 0, 180))):
            Circle(SKETCH1_R_3, mode=Mode.SUBTRACT)
        with Locations(Location((-214.709770336, 78.334511017, 0), (0, 0, 180))):
            Circle(SKETCH1_R_3, mode=Mode.SUBTRACT)
        with Locations(Location((-398.709770336, 78.334511017, 0), (0, 0, 180))):
            Circle(SKETCH1_R_3, mode=Mode.SUBTRACT)
        with Locations(Location((-382.709770336, 78.334511017, 0), (0, 0, 180))):
            Circle(SKETCH1_R_3, mode=Mode.SUBTRACT)
        with Locations(Location((-46.709770336, 78.334511017, 0), (0, 0, 180))):
            Circle(SKETCH1_R_3, mode=Mode.SUBTRACT)
        with Locations(Location((-62.709770336, 78.334511017, 0), (0, 0, 180))):
            Circle(SKETCH1_R_3, mode=Mode.SUBTRACT)
    extrude(amount=BOSS_EXTRUDE5_DEPTH)


solid = part.part
